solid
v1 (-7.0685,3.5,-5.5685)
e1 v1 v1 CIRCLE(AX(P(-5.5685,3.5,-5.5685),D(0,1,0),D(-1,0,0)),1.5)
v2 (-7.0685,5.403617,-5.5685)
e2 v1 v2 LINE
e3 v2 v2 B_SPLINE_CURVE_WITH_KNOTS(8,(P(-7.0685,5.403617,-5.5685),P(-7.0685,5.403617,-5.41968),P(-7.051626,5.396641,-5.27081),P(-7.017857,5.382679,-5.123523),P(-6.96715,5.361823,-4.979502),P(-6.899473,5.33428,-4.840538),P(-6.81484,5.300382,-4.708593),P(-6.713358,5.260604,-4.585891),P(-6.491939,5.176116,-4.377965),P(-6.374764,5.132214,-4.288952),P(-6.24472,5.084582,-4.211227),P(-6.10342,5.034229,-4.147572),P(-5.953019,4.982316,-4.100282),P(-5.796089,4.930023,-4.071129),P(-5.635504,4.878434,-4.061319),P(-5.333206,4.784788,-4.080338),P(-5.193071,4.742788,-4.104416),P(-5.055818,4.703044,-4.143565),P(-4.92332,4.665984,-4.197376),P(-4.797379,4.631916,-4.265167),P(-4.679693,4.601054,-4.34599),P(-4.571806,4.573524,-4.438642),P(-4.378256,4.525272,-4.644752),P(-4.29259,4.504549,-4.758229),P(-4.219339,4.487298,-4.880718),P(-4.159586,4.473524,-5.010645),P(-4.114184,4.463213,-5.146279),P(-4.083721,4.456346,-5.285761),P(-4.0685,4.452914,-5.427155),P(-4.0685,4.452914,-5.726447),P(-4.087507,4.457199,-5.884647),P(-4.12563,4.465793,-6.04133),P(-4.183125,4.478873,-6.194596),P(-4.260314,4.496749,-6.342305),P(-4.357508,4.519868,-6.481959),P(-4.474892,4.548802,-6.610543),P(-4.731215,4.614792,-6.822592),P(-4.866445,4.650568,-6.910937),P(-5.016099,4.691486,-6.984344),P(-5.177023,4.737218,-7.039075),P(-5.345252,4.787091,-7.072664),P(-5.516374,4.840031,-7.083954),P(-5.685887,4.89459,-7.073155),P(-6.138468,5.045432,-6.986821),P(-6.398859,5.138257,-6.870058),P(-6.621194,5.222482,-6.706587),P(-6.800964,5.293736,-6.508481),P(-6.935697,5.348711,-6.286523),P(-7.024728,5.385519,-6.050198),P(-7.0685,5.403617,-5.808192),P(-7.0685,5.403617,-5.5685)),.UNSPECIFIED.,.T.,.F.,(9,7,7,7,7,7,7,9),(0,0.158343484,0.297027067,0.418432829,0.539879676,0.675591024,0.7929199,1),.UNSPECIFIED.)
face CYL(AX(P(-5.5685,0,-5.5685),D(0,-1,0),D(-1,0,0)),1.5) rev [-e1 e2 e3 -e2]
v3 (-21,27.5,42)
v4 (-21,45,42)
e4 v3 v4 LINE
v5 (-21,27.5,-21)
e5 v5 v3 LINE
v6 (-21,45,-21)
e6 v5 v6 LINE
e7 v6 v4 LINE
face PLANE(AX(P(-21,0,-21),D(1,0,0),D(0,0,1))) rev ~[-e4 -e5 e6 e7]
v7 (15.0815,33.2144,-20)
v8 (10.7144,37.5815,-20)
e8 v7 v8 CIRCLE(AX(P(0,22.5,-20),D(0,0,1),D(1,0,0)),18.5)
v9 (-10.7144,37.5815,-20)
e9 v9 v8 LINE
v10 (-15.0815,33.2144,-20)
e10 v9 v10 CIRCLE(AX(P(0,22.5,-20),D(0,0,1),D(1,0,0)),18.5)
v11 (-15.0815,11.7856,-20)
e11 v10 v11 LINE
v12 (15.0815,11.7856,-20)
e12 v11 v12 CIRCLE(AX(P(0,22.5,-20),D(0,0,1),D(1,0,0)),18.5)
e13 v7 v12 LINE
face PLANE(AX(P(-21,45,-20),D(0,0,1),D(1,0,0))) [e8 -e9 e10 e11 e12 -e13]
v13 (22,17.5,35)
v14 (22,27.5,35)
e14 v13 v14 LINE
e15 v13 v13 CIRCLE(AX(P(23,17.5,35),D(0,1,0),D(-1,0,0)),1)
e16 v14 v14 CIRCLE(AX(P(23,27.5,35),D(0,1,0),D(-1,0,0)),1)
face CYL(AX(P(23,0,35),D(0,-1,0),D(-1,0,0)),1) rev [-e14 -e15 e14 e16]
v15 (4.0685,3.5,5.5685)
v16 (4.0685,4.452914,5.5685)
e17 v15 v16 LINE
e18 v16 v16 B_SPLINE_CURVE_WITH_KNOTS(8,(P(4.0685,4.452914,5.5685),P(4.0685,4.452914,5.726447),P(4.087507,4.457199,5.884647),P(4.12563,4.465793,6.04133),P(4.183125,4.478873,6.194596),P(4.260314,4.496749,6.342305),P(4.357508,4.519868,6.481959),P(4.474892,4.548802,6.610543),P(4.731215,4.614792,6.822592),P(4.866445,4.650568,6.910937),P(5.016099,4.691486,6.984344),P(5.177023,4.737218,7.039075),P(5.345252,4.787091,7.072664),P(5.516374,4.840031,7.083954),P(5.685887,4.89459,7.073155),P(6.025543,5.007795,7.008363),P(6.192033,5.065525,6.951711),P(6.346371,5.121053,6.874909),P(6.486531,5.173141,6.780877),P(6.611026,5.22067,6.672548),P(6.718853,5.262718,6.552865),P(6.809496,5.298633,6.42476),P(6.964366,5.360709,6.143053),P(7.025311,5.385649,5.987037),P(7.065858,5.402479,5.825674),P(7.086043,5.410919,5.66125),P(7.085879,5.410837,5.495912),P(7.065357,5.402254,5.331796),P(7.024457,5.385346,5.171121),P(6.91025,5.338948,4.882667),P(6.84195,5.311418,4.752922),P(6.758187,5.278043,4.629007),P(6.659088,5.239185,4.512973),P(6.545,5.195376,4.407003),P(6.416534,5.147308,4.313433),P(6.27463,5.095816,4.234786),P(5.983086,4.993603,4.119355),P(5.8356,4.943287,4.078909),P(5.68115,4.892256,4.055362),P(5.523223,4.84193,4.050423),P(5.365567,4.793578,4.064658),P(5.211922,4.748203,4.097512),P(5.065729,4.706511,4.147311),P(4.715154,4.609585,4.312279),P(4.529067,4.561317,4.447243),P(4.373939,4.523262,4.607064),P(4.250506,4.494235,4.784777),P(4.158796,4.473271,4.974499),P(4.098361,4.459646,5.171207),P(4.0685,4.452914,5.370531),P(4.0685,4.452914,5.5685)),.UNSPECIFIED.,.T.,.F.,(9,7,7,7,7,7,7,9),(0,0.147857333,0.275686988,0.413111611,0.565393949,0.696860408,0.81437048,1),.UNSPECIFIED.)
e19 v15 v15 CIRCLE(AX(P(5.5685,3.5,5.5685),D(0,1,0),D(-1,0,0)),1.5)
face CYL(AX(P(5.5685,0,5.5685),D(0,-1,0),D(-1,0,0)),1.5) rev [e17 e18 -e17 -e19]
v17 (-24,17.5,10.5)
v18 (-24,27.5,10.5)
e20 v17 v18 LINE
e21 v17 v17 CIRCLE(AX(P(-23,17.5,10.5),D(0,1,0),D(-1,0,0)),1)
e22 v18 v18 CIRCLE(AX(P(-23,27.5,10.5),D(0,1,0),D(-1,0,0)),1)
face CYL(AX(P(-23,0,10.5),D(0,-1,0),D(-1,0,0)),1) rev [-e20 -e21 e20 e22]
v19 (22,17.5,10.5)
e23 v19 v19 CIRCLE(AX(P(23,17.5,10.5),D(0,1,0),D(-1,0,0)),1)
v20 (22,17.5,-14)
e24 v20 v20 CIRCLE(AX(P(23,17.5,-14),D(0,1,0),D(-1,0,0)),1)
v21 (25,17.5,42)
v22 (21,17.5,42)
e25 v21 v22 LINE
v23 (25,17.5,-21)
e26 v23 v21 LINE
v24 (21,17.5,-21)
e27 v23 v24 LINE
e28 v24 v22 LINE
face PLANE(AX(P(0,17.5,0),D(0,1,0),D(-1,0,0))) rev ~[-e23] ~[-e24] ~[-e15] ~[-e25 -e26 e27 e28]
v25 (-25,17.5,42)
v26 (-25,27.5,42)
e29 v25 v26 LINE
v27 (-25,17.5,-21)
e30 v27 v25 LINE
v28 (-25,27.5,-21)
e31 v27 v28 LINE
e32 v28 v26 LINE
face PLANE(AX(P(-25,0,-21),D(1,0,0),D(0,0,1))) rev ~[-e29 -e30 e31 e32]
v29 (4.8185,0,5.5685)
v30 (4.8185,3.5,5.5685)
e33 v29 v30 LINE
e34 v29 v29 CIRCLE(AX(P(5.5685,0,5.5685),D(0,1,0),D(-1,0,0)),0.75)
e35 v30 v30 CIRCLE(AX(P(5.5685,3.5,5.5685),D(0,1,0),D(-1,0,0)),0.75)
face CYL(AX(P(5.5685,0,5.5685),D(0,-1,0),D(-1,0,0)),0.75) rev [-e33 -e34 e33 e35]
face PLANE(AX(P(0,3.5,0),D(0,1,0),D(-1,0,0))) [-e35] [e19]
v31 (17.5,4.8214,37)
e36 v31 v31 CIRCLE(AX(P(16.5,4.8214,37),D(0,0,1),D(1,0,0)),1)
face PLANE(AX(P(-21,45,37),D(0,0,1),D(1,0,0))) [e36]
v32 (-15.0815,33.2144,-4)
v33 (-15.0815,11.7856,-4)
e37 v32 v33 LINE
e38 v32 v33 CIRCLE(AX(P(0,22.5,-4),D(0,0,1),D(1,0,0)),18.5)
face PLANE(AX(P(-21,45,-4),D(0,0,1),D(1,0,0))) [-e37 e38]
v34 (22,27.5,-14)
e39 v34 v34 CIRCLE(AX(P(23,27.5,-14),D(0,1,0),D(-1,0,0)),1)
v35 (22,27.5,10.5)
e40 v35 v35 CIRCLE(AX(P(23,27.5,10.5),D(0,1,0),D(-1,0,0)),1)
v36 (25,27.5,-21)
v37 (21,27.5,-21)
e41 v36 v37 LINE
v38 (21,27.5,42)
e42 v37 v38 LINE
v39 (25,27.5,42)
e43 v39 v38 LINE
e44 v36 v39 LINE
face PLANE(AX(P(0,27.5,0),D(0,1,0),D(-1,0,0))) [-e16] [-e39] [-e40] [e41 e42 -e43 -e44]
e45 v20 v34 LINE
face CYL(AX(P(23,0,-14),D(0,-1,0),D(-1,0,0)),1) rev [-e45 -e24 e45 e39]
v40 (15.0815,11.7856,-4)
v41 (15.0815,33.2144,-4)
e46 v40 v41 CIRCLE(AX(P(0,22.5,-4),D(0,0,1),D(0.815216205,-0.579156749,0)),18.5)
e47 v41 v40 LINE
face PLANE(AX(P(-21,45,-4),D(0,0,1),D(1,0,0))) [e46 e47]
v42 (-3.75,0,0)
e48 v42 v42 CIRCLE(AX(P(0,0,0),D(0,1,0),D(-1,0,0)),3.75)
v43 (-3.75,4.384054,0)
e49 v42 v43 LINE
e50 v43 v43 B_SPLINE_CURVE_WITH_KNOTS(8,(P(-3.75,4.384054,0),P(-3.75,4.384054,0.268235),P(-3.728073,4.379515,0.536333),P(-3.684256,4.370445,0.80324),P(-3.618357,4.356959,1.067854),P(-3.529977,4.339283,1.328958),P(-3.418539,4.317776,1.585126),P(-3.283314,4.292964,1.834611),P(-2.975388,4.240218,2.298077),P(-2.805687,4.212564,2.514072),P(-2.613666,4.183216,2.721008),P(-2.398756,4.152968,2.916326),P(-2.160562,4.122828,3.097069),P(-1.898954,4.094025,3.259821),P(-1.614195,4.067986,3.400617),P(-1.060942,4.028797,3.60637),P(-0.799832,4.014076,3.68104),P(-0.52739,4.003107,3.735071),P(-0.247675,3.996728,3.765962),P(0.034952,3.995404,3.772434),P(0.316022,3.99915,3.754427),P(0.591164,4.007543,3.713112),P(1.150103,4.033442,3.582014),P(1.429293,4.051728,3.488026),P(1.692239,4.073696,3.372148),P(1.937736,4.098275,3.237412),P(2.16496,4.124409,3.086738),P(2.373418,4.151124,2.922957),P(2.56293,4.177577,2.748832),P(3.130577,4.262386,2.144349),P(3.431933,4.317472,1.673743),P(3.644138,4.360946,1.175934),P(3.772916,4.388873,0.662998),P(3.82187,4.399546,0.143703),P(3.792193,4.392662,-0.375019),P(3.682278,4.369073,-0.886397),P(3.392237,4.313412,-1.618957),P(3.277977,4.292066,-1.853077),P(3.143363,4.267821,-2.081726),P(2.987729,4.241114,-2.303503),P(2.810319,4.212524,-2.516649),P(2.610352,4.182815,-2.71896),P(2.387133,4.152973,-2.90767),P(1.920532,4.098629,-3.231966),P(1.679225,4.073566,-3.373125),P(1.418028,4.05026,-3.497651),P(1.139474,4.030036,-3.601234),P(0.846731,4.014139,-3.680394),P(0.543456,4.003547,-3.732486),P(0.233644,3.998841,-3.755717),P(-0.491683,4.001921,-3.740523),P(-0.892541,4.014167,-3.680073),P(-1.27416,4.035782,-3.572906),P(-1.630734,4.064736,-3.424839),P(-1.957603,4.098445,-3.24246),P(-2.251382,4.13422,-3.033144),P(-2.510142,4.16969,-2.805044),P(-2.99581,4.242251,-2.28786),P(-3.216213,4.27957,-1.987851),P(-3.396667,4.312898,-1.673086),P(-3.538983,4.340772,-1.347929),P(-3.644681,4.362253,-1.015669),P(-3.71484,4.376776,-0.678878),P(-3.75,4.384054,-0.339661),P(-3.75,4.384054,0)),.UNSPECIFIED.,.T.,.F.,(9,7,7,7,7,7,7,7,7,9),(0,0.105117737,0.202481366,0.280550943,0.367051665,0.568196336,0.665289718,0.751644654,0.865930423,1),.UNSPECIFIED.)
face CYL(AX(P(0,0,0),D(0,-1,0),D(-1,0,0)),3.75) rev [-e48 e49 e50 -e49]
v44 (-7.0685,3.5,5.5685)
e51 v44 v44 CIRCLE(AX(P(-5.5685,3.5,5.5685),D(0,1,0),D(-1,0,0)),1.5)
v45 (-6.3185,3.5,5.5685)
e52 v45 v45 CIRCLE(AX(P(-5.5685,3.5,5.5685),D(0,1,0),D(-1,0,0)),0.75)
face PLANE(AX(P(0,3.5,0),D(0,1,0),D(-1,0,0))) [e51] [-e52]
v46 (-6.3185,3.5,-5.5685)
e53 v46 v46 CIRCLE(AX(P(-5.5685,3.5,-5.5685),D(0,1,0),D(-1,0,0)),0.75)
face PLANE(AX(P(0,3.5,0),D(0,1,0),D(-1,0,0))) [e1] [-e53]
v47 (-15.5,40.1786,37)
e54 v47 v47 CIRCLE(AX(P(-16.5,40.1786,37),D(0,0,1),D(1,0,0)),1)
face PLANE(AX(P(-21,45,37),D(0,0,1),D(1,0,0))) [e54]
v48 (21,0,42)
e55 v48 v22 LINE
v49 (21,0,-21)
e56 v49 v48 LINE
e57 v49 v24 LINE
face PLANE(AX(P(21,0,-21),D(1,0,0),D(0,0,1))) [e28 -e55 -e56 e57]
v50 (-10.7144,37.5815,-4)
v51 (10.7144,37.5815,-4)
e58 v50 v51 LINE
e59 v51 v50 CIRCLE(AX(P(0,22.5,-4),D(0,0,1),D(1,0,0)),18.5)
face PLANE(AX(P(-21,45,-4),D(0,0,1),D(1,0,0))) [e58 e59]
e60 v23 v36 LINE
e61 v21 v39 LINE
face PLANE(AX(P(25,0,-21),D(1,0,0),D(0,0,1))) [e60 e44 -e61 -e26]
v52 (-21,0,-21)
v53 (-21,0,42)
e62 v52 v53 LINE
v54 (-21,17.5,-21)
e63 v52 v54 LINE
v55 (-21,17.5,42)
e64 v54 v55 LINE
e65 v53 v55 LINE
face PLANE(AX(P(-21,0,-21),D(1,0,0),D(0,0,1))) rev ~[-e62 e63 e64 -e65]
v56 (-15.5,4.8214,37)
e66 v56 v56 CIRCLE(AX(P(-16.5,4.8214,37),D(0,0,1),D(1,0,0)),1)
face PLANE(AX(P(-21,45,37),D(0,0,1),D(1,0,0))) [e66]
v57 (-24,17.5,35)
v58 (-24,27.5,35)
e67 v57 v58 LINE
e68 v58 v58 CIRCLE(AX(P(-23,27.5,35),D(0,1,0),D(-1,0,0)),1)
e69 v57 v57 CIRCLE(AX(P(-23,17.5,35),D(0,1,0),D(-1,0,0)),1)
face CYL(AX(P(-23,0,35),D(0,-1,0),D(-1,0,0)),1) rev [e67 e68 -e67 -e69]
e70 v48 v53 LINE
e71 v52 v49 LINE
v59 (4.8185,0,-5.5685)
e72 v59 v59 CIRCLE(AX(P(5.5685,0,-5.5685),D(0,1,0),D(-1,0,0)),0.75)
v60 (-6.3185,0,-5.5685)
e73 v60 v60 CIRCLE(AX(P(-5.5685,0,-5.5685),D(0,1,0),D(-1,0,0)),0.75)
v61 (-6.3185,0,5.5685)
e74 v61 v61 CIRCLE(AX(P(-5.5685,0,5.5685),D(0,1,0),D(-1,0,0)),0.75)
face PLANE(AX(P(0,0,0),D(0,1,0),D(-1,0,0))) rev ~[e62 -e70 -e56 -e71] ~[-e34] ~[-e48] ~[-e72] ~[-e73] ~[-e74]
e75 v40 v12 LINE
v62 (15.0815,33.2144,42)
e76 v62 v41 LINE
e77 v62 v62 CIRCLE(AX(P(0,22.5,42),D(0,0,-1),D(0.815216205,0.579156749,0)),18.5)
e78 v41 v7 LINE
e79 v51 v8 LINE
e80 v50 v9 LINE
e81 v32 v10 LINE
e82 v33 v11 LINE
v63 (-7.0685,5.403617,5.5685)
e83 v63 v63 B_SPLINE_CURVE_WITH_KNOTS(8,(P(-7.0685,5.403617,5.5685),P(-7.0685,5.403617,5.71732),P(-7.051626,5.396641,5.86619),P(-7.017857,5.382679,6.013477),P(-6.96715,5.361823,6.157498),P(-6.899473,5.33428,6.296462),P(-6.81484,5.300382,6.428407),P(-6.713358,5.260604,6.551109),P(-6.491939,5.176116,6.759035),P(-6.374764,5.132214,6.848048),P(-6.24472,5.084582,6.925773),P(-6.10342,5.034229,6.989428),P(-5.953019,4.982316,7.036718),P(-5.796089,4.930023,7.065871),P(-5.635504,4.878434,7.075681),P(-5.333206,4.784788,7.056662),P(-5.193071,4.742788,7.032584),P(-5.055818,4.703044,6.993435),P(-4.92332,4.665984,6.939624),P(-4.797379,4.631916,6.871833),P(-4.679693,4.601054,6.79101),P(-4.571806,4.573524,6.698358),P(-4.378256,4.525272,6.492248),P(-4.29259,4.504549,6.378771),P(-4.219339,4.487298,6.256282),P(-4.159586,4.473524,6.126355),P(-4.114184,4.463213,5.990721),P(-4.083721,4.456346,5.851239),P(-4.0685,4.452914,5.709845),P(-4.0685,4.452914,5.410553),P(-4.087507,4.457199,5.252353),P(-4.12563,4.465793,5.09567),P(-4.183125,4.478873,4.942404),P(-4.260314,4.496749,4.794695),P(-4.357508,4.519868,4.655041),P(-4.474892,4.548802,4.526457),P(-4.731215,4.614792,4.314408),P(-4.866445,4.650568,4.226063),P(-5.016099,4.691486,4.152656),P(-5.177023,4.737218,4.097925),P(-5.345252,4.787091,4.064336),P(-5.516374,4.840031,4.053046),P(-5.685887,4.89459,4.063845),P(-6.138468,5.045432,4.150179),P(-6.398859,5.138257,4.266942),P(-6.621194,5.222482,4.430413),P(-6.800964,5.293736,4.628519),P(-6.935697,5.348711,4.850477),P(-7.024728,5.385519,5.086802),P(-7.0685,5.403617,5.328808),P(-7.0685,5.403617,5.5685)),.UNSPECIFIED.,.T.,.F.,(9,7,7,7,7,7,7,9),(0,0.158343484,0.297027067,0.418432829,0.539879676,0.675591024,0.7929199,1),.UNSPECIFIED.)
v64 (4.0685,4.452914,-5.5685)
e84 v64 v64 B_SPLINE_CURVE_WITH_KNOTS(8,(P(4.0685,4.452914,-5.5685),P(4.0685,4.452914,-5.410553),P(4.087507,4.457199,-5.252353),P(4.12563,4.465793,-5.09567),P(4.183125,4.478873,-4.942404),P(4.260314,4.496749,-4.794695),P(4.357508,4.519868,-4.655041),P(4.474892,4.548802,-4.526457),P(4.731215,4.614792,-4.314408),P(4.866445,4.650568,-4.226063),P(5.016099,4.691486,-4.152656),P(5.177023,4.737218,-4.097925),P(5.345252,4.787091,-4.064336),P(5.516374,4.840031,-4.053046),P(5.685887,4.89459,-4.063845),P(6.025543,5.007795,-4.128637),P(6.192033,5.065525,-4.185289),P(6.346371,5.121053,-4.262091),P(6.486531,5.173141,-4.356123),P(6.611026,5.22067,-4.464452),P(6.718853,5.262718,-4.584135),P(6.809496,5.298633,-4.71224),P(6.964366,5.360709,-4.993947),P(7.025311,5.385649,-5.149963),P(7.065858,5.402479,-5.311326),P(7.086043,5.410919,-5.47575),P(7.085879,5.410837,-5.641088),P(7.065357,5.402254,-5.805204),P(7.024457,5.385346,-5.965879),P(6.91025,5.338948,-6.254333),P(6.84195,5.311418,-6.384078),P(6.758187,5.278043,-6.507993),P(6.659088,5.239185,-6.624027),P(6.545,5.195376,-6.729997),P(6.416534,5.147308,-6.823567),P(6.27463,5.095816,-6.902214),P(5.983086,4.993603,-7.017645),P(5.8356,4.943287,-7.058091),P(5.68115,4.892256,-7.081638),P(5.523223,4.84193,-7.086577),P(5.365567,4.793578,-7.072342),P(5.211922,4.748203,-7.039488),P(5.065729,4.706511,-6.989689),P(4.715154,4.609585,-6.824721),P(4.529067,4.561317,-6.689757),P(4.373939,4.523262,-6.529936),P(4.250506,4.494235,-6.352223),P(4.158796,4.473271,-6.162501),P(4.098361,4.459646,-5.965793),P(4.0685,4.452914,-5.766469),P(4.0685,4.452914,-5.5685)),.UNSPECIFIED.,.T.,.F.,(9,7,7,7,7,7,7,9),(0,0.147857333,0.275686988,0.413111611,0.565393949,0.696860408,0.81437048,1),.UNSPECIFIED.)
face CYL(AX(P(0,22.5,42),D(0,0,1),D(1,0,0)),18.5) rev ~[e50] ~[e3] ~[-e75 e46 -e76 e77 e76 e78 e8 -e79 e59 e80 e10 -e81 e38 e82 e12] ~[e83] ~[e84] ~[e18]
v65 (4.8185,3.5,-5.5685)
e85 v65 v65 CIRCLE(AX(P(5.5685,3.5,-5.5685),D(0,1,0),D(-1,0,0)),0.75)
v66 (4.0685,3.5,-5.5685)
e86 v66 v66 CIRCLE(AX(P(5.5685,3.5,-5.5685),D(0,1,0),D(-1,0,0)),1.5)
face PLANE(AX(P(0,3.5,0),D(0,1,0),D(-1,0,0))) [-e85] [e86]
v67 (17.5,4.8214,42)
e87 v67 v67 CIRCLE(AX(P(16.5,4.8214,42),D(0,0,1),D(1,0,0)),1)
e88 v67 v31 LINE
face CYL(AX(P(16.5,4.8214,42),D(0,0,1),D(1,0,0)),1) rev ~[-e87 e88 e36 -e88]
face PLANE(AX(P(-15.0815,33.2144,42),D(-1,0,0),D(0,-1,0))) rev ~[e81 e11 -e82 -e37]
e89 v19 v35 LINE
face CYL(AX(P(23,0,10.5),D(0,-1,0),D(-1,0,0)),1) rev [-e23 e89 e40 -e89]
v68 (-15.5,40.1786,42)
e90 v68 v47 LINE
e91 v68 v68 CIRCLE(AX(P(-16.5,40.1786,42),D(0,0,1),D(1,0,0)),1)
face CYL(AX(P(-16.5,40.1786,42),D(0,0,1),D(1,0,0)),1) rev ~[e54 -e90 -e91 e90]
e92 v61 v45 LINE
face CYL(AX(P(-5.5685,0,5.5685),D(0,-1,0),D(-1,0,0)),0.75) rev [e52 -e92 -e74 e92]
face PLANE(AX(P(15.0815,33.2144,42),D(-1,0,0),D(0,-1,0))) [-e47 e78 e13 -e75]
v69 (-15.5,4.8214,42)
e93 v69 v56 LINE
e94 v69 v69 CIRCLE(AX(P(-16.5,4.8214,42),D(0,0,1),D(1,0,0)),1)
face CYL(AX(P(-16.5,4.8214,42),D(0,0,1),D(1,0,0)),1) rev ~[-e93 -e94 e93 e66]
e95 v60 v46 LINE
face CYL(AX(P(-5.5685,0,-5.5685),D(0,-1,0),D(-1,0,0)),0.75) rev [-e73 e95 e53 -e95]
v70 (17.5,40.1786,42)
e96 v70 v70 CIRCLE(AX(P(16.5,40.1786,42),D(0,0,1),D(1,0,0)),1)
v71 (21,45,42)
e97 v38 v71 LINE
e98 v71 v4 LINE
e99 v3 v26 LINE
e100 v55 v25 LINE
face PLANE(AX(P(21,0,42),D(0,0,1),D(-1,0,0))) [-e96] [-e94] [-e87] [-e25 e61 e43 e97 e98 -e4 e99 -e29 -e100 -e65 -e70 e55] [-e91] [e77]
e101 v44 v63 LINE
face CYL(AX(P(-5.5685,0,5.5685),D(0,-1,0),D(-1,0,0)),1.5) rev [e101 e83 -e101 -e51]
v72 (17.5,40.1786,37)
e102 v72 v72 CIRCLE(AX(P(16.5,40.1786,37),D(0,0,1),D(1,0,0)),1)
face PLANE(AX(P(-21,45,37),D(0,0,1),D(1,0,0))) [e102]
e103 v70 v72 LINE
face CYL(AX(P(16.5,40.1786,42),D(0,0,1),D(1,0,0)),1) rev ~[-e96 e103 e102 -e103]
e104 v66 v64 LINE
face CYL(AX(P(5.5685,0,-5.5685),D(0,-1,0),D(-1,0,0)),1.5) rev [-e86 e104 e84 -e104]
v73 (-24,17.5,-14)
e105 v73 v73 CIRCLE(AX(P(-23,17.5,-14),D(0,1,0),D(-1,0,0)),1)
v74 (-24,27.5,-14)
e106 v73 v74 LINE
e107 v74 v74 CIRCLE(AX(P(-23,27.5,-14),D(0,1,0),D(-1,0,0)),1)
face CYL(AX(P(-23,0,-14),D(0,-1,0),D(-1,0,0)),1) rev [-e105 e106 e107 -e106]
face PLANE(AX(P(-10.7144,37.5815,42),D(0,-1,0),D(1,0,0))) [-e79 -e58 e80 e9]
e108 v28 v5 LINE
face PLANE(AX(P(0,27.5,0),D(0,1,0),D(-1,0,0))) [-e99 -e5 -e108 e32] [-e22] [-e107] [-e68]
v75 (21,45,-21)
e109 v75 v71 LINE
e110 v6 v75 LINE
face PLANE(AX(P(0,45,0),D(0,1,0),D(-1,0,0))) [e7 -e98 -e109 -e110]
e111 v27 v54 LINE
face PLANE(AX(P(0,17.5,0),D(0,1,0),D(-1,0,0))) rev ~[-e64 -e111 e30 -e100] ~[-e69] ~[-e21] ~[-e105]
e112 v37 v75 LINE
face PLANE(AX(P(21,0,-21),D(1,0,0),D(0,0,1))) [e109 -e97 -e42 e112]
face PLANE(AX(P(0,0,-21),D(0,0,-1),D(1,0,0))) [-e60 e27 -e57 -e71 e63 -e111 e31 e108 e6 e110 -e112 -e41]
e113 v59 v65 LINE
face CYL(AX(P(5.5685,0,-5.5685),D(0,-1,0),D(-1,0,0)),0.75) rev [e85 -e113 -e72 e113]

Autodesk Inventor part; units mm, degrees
ref_plane "YZ Plane" through (0, 0, 0) normal (1, 0, 0) x (0, 1, 0)
ref_plane "XZ Plane" through (0, 0, 0) normal (0, 1, 0) x (-1, 0, 0)
ref_plane "XY Plane" through (0, 0, 0) normal (0, 0, 1) x (1, 0, 0)
sketch "Sketch1" plane through (0, 0, 0) normal (0, 1, 0) x (-1, 0, 0)
  circle A0 centre (0, 0) radius 11 construction
  circle A1 centre (0, 0) radius 3.75
  circle A2 centre (0, 0) radius 7.875 construction
  line L0 (16.292, 0) -> (-19, 0) construction
  line L1 (0, 21) -> (0, -27.3544) construction
  line L2 (0, -21) -> (21, -21)
  line L3 (0, -21) -> (-21, -21)
  line L4 (0, 0) -> (21, -21) construction
  circle A3 centre (5.5685, -5.5685) radius 0.75
  circle A4 centre (-5.5685, -5.5685) radius 0.75
  circle A5 centre (5.5685, 5.5685) radius 0.75
  circle A6 centre (-5.5685, 5.5685) radius 0.75
  line L5 (-25, -21) -> (-21, -21)
  line L6 (25, -21) -> (21, -21)
  circle A7 centre (23, -14) radius 1
  circle A8 centre (-23, -14) radius 1
  line L7 (-25, 42) -> (25, 42)
  line L8 (25, -21) -> (25, 42)
  line L9 (21, -21) -> (21, 42)
  line L10 (-21, -21) -> (-21, 42)
  line L11 (-25, -21) -> (-25, 42)
  line L12 (25, 10.5) -> (-25, 10.5) construction
  circle A9 centre (23, 35) radius 1
  circle A10 centre (-23, 35) radius 1
  circle A11 centre (23, 10.5) radius 1
  circle A12 centre (-23, 10.5) radius 1
  circle A13 centre (5.5685, 5.5685) radius 1.5
  circle A14 centre (5.5685, -5.5685) radius 1.5
  circle A15 centre (-5.5685, 5.5685) radius 1.5
  circle A16 centre (-5.5685, -5.5685) radius 1.5
  dimension "d8" = 15.75
  dimension "d2" = 7.5
  dimension "d4" = 22
  dimension "d17" = 21
  dimension "d26" = 1.5
  dimension "d38" = 63
  dimension "d39" = 21
  dimension "d40" = 2
  dimension "d41" = 2
  dimension "d53" = 3
extrude "Extrusion9" add sketch "Sketch1" along normal blind 45 contours A1 | L3 L10 L7 L9 L2 | A3 | A4 | A5 | A6 | A13 | A14 | A15 | A16
extrude "Extrusion10" add sketch "Sketch1" along normal blind 27.5 contours L9 L7 L8 L6 | L5 L11 L7 L10
extrude "Extrusion11" cut sketch "Sketch1" along normal blind 17.5 contours L9 L7 L8 L6 | L5 L11 L7 L10
extrude "Extrusion13" cut sketch "Sketch1" along normal blind 6 contours A1 | A3 | A4 | A5 | A6 | A13 | A14 | A15 | A16
extrude "Extrusion15" add sketch "Sketch1" along normal blind 3.5 contours A13 | A14 | A15 | A16
sketch "Sketch5" plane through (-21, 45, 42) normal (0, 0, 1) x (1, 0, 0)
  line L0 (0, -45) -> (42, -45) construction
  line L1 (0, -17.5) -> (0, 0) construction
  line L2 (42, -45) -> (0, -45) construction
  line L3 (0, -45) -> (0, 0) construction
  line L4 (0, 0) -> (42, 0) construction
  line L5 (42, 0) -> (42, -45) construction
  line L6 (42, 0) -> (0, -45) construction
  line L7 (0, 0) -> (42, 0) construction
  line L8 (0, 0) -> (42, -45) construction
  circle A0 centre (21, -22.5) radius 18.5
  line L9 (-4, -27.5) -> (-4, -17.5) construction
  line L10 (-4, -22.5) -> (45.9746, -22.5) construction
  line L11 (-4, -23.5) -> (45.9746, -23.5) construction
  line L12 (45.9746, -23.5) -> (45.9746, -45) construction
  line L13 (45.9746, -45) -> (-4, -45) construction
  line L14 (-4, -45) -> (-4, -23.5) construction
  line L15 (-4, -21.5) -> (46, -21.5) construction
  line L16 (46, -21.5) -> (46, 0) construction
  line L17 (46, 0) -> (-4, 0) construction
  line L18 (-4, 0) -> (-4, -21.5) construction
  line L19 (-4, -21.5) -> (45.9746, -21.5) construction
  line L20 (45.9746, -21.5) -> (45.9746, -23.5) construction
  line L21 (45.9746, -23.5) -> (-4, -23.5) construction
  line L22 (-4, -23.5) -> (-4, -21.5) construction
  line L23 (10.2856, -7.4185) -> (31.7144, -7.4185)
  line L24 (5.9185, -11.7856) -> (5.9185, -33.2144)
  line L25 (36.0815, -11.7856) -> (36.0815, -33.2144)
  circle A1 centre (21, -22.5) radius 13.5 construction
  line L26 (21, -22.5) -> (38.8515, -22.5) construction
  line L27 (34.0815, -9.4185) -> (7.9185, -35.5815) construction
  line L28 (21, -45) -> (21, 0) construction
  line L29 (7.9185, -9.4185) -> (34.0815, -35.5815) construction
  line L30 (7.9185, -9.4185) -> (34.0815, -9.4185) construction
  line L31 (7.9185, -9.4185) -> (7.9185, -35.5815) construction
  line L32 (34.0815, -35.5815) -> (34.0815, -9.4185) construction
  circle A2 centre (4.5, -40.1786) radius 1
  circle A3 centre (37.5, -40.1786) radius 1
  circle A4 centre (4.5, -4.8214) radius 1
  circle A5 centre (37.5, -4.8214) radius 1
  dimension "d58" = 37
  dimension "d61" = 1
  dimension "d62" = 1
  dimension "d70" = 27
  dimension "d73" = 2
  dimension "d74" = 45
  dimension "d75" = 2
  dimension "d76" = 2
  dimension "d77" = 42
  dimension "d78" = 45
  dimension "d79" = 2
  dimension "d80" = 4.5
extrude "Extrusion16" cut sketch "Sketch5" against normal blind 62 contours L25 A0 L24 L23
extrude "Extrusion18" cut sketch "Sketch5" against normal blind 46 contours A0 L25 | L23 A0 | A0 L24
extrude "Extrusion19" cut sketch "Sketch5" against normal blind 5 contours A2 | A3 | A4 | A5
equation "\"d41\" = d40"
properties part number "engine_connector_sleeve"
